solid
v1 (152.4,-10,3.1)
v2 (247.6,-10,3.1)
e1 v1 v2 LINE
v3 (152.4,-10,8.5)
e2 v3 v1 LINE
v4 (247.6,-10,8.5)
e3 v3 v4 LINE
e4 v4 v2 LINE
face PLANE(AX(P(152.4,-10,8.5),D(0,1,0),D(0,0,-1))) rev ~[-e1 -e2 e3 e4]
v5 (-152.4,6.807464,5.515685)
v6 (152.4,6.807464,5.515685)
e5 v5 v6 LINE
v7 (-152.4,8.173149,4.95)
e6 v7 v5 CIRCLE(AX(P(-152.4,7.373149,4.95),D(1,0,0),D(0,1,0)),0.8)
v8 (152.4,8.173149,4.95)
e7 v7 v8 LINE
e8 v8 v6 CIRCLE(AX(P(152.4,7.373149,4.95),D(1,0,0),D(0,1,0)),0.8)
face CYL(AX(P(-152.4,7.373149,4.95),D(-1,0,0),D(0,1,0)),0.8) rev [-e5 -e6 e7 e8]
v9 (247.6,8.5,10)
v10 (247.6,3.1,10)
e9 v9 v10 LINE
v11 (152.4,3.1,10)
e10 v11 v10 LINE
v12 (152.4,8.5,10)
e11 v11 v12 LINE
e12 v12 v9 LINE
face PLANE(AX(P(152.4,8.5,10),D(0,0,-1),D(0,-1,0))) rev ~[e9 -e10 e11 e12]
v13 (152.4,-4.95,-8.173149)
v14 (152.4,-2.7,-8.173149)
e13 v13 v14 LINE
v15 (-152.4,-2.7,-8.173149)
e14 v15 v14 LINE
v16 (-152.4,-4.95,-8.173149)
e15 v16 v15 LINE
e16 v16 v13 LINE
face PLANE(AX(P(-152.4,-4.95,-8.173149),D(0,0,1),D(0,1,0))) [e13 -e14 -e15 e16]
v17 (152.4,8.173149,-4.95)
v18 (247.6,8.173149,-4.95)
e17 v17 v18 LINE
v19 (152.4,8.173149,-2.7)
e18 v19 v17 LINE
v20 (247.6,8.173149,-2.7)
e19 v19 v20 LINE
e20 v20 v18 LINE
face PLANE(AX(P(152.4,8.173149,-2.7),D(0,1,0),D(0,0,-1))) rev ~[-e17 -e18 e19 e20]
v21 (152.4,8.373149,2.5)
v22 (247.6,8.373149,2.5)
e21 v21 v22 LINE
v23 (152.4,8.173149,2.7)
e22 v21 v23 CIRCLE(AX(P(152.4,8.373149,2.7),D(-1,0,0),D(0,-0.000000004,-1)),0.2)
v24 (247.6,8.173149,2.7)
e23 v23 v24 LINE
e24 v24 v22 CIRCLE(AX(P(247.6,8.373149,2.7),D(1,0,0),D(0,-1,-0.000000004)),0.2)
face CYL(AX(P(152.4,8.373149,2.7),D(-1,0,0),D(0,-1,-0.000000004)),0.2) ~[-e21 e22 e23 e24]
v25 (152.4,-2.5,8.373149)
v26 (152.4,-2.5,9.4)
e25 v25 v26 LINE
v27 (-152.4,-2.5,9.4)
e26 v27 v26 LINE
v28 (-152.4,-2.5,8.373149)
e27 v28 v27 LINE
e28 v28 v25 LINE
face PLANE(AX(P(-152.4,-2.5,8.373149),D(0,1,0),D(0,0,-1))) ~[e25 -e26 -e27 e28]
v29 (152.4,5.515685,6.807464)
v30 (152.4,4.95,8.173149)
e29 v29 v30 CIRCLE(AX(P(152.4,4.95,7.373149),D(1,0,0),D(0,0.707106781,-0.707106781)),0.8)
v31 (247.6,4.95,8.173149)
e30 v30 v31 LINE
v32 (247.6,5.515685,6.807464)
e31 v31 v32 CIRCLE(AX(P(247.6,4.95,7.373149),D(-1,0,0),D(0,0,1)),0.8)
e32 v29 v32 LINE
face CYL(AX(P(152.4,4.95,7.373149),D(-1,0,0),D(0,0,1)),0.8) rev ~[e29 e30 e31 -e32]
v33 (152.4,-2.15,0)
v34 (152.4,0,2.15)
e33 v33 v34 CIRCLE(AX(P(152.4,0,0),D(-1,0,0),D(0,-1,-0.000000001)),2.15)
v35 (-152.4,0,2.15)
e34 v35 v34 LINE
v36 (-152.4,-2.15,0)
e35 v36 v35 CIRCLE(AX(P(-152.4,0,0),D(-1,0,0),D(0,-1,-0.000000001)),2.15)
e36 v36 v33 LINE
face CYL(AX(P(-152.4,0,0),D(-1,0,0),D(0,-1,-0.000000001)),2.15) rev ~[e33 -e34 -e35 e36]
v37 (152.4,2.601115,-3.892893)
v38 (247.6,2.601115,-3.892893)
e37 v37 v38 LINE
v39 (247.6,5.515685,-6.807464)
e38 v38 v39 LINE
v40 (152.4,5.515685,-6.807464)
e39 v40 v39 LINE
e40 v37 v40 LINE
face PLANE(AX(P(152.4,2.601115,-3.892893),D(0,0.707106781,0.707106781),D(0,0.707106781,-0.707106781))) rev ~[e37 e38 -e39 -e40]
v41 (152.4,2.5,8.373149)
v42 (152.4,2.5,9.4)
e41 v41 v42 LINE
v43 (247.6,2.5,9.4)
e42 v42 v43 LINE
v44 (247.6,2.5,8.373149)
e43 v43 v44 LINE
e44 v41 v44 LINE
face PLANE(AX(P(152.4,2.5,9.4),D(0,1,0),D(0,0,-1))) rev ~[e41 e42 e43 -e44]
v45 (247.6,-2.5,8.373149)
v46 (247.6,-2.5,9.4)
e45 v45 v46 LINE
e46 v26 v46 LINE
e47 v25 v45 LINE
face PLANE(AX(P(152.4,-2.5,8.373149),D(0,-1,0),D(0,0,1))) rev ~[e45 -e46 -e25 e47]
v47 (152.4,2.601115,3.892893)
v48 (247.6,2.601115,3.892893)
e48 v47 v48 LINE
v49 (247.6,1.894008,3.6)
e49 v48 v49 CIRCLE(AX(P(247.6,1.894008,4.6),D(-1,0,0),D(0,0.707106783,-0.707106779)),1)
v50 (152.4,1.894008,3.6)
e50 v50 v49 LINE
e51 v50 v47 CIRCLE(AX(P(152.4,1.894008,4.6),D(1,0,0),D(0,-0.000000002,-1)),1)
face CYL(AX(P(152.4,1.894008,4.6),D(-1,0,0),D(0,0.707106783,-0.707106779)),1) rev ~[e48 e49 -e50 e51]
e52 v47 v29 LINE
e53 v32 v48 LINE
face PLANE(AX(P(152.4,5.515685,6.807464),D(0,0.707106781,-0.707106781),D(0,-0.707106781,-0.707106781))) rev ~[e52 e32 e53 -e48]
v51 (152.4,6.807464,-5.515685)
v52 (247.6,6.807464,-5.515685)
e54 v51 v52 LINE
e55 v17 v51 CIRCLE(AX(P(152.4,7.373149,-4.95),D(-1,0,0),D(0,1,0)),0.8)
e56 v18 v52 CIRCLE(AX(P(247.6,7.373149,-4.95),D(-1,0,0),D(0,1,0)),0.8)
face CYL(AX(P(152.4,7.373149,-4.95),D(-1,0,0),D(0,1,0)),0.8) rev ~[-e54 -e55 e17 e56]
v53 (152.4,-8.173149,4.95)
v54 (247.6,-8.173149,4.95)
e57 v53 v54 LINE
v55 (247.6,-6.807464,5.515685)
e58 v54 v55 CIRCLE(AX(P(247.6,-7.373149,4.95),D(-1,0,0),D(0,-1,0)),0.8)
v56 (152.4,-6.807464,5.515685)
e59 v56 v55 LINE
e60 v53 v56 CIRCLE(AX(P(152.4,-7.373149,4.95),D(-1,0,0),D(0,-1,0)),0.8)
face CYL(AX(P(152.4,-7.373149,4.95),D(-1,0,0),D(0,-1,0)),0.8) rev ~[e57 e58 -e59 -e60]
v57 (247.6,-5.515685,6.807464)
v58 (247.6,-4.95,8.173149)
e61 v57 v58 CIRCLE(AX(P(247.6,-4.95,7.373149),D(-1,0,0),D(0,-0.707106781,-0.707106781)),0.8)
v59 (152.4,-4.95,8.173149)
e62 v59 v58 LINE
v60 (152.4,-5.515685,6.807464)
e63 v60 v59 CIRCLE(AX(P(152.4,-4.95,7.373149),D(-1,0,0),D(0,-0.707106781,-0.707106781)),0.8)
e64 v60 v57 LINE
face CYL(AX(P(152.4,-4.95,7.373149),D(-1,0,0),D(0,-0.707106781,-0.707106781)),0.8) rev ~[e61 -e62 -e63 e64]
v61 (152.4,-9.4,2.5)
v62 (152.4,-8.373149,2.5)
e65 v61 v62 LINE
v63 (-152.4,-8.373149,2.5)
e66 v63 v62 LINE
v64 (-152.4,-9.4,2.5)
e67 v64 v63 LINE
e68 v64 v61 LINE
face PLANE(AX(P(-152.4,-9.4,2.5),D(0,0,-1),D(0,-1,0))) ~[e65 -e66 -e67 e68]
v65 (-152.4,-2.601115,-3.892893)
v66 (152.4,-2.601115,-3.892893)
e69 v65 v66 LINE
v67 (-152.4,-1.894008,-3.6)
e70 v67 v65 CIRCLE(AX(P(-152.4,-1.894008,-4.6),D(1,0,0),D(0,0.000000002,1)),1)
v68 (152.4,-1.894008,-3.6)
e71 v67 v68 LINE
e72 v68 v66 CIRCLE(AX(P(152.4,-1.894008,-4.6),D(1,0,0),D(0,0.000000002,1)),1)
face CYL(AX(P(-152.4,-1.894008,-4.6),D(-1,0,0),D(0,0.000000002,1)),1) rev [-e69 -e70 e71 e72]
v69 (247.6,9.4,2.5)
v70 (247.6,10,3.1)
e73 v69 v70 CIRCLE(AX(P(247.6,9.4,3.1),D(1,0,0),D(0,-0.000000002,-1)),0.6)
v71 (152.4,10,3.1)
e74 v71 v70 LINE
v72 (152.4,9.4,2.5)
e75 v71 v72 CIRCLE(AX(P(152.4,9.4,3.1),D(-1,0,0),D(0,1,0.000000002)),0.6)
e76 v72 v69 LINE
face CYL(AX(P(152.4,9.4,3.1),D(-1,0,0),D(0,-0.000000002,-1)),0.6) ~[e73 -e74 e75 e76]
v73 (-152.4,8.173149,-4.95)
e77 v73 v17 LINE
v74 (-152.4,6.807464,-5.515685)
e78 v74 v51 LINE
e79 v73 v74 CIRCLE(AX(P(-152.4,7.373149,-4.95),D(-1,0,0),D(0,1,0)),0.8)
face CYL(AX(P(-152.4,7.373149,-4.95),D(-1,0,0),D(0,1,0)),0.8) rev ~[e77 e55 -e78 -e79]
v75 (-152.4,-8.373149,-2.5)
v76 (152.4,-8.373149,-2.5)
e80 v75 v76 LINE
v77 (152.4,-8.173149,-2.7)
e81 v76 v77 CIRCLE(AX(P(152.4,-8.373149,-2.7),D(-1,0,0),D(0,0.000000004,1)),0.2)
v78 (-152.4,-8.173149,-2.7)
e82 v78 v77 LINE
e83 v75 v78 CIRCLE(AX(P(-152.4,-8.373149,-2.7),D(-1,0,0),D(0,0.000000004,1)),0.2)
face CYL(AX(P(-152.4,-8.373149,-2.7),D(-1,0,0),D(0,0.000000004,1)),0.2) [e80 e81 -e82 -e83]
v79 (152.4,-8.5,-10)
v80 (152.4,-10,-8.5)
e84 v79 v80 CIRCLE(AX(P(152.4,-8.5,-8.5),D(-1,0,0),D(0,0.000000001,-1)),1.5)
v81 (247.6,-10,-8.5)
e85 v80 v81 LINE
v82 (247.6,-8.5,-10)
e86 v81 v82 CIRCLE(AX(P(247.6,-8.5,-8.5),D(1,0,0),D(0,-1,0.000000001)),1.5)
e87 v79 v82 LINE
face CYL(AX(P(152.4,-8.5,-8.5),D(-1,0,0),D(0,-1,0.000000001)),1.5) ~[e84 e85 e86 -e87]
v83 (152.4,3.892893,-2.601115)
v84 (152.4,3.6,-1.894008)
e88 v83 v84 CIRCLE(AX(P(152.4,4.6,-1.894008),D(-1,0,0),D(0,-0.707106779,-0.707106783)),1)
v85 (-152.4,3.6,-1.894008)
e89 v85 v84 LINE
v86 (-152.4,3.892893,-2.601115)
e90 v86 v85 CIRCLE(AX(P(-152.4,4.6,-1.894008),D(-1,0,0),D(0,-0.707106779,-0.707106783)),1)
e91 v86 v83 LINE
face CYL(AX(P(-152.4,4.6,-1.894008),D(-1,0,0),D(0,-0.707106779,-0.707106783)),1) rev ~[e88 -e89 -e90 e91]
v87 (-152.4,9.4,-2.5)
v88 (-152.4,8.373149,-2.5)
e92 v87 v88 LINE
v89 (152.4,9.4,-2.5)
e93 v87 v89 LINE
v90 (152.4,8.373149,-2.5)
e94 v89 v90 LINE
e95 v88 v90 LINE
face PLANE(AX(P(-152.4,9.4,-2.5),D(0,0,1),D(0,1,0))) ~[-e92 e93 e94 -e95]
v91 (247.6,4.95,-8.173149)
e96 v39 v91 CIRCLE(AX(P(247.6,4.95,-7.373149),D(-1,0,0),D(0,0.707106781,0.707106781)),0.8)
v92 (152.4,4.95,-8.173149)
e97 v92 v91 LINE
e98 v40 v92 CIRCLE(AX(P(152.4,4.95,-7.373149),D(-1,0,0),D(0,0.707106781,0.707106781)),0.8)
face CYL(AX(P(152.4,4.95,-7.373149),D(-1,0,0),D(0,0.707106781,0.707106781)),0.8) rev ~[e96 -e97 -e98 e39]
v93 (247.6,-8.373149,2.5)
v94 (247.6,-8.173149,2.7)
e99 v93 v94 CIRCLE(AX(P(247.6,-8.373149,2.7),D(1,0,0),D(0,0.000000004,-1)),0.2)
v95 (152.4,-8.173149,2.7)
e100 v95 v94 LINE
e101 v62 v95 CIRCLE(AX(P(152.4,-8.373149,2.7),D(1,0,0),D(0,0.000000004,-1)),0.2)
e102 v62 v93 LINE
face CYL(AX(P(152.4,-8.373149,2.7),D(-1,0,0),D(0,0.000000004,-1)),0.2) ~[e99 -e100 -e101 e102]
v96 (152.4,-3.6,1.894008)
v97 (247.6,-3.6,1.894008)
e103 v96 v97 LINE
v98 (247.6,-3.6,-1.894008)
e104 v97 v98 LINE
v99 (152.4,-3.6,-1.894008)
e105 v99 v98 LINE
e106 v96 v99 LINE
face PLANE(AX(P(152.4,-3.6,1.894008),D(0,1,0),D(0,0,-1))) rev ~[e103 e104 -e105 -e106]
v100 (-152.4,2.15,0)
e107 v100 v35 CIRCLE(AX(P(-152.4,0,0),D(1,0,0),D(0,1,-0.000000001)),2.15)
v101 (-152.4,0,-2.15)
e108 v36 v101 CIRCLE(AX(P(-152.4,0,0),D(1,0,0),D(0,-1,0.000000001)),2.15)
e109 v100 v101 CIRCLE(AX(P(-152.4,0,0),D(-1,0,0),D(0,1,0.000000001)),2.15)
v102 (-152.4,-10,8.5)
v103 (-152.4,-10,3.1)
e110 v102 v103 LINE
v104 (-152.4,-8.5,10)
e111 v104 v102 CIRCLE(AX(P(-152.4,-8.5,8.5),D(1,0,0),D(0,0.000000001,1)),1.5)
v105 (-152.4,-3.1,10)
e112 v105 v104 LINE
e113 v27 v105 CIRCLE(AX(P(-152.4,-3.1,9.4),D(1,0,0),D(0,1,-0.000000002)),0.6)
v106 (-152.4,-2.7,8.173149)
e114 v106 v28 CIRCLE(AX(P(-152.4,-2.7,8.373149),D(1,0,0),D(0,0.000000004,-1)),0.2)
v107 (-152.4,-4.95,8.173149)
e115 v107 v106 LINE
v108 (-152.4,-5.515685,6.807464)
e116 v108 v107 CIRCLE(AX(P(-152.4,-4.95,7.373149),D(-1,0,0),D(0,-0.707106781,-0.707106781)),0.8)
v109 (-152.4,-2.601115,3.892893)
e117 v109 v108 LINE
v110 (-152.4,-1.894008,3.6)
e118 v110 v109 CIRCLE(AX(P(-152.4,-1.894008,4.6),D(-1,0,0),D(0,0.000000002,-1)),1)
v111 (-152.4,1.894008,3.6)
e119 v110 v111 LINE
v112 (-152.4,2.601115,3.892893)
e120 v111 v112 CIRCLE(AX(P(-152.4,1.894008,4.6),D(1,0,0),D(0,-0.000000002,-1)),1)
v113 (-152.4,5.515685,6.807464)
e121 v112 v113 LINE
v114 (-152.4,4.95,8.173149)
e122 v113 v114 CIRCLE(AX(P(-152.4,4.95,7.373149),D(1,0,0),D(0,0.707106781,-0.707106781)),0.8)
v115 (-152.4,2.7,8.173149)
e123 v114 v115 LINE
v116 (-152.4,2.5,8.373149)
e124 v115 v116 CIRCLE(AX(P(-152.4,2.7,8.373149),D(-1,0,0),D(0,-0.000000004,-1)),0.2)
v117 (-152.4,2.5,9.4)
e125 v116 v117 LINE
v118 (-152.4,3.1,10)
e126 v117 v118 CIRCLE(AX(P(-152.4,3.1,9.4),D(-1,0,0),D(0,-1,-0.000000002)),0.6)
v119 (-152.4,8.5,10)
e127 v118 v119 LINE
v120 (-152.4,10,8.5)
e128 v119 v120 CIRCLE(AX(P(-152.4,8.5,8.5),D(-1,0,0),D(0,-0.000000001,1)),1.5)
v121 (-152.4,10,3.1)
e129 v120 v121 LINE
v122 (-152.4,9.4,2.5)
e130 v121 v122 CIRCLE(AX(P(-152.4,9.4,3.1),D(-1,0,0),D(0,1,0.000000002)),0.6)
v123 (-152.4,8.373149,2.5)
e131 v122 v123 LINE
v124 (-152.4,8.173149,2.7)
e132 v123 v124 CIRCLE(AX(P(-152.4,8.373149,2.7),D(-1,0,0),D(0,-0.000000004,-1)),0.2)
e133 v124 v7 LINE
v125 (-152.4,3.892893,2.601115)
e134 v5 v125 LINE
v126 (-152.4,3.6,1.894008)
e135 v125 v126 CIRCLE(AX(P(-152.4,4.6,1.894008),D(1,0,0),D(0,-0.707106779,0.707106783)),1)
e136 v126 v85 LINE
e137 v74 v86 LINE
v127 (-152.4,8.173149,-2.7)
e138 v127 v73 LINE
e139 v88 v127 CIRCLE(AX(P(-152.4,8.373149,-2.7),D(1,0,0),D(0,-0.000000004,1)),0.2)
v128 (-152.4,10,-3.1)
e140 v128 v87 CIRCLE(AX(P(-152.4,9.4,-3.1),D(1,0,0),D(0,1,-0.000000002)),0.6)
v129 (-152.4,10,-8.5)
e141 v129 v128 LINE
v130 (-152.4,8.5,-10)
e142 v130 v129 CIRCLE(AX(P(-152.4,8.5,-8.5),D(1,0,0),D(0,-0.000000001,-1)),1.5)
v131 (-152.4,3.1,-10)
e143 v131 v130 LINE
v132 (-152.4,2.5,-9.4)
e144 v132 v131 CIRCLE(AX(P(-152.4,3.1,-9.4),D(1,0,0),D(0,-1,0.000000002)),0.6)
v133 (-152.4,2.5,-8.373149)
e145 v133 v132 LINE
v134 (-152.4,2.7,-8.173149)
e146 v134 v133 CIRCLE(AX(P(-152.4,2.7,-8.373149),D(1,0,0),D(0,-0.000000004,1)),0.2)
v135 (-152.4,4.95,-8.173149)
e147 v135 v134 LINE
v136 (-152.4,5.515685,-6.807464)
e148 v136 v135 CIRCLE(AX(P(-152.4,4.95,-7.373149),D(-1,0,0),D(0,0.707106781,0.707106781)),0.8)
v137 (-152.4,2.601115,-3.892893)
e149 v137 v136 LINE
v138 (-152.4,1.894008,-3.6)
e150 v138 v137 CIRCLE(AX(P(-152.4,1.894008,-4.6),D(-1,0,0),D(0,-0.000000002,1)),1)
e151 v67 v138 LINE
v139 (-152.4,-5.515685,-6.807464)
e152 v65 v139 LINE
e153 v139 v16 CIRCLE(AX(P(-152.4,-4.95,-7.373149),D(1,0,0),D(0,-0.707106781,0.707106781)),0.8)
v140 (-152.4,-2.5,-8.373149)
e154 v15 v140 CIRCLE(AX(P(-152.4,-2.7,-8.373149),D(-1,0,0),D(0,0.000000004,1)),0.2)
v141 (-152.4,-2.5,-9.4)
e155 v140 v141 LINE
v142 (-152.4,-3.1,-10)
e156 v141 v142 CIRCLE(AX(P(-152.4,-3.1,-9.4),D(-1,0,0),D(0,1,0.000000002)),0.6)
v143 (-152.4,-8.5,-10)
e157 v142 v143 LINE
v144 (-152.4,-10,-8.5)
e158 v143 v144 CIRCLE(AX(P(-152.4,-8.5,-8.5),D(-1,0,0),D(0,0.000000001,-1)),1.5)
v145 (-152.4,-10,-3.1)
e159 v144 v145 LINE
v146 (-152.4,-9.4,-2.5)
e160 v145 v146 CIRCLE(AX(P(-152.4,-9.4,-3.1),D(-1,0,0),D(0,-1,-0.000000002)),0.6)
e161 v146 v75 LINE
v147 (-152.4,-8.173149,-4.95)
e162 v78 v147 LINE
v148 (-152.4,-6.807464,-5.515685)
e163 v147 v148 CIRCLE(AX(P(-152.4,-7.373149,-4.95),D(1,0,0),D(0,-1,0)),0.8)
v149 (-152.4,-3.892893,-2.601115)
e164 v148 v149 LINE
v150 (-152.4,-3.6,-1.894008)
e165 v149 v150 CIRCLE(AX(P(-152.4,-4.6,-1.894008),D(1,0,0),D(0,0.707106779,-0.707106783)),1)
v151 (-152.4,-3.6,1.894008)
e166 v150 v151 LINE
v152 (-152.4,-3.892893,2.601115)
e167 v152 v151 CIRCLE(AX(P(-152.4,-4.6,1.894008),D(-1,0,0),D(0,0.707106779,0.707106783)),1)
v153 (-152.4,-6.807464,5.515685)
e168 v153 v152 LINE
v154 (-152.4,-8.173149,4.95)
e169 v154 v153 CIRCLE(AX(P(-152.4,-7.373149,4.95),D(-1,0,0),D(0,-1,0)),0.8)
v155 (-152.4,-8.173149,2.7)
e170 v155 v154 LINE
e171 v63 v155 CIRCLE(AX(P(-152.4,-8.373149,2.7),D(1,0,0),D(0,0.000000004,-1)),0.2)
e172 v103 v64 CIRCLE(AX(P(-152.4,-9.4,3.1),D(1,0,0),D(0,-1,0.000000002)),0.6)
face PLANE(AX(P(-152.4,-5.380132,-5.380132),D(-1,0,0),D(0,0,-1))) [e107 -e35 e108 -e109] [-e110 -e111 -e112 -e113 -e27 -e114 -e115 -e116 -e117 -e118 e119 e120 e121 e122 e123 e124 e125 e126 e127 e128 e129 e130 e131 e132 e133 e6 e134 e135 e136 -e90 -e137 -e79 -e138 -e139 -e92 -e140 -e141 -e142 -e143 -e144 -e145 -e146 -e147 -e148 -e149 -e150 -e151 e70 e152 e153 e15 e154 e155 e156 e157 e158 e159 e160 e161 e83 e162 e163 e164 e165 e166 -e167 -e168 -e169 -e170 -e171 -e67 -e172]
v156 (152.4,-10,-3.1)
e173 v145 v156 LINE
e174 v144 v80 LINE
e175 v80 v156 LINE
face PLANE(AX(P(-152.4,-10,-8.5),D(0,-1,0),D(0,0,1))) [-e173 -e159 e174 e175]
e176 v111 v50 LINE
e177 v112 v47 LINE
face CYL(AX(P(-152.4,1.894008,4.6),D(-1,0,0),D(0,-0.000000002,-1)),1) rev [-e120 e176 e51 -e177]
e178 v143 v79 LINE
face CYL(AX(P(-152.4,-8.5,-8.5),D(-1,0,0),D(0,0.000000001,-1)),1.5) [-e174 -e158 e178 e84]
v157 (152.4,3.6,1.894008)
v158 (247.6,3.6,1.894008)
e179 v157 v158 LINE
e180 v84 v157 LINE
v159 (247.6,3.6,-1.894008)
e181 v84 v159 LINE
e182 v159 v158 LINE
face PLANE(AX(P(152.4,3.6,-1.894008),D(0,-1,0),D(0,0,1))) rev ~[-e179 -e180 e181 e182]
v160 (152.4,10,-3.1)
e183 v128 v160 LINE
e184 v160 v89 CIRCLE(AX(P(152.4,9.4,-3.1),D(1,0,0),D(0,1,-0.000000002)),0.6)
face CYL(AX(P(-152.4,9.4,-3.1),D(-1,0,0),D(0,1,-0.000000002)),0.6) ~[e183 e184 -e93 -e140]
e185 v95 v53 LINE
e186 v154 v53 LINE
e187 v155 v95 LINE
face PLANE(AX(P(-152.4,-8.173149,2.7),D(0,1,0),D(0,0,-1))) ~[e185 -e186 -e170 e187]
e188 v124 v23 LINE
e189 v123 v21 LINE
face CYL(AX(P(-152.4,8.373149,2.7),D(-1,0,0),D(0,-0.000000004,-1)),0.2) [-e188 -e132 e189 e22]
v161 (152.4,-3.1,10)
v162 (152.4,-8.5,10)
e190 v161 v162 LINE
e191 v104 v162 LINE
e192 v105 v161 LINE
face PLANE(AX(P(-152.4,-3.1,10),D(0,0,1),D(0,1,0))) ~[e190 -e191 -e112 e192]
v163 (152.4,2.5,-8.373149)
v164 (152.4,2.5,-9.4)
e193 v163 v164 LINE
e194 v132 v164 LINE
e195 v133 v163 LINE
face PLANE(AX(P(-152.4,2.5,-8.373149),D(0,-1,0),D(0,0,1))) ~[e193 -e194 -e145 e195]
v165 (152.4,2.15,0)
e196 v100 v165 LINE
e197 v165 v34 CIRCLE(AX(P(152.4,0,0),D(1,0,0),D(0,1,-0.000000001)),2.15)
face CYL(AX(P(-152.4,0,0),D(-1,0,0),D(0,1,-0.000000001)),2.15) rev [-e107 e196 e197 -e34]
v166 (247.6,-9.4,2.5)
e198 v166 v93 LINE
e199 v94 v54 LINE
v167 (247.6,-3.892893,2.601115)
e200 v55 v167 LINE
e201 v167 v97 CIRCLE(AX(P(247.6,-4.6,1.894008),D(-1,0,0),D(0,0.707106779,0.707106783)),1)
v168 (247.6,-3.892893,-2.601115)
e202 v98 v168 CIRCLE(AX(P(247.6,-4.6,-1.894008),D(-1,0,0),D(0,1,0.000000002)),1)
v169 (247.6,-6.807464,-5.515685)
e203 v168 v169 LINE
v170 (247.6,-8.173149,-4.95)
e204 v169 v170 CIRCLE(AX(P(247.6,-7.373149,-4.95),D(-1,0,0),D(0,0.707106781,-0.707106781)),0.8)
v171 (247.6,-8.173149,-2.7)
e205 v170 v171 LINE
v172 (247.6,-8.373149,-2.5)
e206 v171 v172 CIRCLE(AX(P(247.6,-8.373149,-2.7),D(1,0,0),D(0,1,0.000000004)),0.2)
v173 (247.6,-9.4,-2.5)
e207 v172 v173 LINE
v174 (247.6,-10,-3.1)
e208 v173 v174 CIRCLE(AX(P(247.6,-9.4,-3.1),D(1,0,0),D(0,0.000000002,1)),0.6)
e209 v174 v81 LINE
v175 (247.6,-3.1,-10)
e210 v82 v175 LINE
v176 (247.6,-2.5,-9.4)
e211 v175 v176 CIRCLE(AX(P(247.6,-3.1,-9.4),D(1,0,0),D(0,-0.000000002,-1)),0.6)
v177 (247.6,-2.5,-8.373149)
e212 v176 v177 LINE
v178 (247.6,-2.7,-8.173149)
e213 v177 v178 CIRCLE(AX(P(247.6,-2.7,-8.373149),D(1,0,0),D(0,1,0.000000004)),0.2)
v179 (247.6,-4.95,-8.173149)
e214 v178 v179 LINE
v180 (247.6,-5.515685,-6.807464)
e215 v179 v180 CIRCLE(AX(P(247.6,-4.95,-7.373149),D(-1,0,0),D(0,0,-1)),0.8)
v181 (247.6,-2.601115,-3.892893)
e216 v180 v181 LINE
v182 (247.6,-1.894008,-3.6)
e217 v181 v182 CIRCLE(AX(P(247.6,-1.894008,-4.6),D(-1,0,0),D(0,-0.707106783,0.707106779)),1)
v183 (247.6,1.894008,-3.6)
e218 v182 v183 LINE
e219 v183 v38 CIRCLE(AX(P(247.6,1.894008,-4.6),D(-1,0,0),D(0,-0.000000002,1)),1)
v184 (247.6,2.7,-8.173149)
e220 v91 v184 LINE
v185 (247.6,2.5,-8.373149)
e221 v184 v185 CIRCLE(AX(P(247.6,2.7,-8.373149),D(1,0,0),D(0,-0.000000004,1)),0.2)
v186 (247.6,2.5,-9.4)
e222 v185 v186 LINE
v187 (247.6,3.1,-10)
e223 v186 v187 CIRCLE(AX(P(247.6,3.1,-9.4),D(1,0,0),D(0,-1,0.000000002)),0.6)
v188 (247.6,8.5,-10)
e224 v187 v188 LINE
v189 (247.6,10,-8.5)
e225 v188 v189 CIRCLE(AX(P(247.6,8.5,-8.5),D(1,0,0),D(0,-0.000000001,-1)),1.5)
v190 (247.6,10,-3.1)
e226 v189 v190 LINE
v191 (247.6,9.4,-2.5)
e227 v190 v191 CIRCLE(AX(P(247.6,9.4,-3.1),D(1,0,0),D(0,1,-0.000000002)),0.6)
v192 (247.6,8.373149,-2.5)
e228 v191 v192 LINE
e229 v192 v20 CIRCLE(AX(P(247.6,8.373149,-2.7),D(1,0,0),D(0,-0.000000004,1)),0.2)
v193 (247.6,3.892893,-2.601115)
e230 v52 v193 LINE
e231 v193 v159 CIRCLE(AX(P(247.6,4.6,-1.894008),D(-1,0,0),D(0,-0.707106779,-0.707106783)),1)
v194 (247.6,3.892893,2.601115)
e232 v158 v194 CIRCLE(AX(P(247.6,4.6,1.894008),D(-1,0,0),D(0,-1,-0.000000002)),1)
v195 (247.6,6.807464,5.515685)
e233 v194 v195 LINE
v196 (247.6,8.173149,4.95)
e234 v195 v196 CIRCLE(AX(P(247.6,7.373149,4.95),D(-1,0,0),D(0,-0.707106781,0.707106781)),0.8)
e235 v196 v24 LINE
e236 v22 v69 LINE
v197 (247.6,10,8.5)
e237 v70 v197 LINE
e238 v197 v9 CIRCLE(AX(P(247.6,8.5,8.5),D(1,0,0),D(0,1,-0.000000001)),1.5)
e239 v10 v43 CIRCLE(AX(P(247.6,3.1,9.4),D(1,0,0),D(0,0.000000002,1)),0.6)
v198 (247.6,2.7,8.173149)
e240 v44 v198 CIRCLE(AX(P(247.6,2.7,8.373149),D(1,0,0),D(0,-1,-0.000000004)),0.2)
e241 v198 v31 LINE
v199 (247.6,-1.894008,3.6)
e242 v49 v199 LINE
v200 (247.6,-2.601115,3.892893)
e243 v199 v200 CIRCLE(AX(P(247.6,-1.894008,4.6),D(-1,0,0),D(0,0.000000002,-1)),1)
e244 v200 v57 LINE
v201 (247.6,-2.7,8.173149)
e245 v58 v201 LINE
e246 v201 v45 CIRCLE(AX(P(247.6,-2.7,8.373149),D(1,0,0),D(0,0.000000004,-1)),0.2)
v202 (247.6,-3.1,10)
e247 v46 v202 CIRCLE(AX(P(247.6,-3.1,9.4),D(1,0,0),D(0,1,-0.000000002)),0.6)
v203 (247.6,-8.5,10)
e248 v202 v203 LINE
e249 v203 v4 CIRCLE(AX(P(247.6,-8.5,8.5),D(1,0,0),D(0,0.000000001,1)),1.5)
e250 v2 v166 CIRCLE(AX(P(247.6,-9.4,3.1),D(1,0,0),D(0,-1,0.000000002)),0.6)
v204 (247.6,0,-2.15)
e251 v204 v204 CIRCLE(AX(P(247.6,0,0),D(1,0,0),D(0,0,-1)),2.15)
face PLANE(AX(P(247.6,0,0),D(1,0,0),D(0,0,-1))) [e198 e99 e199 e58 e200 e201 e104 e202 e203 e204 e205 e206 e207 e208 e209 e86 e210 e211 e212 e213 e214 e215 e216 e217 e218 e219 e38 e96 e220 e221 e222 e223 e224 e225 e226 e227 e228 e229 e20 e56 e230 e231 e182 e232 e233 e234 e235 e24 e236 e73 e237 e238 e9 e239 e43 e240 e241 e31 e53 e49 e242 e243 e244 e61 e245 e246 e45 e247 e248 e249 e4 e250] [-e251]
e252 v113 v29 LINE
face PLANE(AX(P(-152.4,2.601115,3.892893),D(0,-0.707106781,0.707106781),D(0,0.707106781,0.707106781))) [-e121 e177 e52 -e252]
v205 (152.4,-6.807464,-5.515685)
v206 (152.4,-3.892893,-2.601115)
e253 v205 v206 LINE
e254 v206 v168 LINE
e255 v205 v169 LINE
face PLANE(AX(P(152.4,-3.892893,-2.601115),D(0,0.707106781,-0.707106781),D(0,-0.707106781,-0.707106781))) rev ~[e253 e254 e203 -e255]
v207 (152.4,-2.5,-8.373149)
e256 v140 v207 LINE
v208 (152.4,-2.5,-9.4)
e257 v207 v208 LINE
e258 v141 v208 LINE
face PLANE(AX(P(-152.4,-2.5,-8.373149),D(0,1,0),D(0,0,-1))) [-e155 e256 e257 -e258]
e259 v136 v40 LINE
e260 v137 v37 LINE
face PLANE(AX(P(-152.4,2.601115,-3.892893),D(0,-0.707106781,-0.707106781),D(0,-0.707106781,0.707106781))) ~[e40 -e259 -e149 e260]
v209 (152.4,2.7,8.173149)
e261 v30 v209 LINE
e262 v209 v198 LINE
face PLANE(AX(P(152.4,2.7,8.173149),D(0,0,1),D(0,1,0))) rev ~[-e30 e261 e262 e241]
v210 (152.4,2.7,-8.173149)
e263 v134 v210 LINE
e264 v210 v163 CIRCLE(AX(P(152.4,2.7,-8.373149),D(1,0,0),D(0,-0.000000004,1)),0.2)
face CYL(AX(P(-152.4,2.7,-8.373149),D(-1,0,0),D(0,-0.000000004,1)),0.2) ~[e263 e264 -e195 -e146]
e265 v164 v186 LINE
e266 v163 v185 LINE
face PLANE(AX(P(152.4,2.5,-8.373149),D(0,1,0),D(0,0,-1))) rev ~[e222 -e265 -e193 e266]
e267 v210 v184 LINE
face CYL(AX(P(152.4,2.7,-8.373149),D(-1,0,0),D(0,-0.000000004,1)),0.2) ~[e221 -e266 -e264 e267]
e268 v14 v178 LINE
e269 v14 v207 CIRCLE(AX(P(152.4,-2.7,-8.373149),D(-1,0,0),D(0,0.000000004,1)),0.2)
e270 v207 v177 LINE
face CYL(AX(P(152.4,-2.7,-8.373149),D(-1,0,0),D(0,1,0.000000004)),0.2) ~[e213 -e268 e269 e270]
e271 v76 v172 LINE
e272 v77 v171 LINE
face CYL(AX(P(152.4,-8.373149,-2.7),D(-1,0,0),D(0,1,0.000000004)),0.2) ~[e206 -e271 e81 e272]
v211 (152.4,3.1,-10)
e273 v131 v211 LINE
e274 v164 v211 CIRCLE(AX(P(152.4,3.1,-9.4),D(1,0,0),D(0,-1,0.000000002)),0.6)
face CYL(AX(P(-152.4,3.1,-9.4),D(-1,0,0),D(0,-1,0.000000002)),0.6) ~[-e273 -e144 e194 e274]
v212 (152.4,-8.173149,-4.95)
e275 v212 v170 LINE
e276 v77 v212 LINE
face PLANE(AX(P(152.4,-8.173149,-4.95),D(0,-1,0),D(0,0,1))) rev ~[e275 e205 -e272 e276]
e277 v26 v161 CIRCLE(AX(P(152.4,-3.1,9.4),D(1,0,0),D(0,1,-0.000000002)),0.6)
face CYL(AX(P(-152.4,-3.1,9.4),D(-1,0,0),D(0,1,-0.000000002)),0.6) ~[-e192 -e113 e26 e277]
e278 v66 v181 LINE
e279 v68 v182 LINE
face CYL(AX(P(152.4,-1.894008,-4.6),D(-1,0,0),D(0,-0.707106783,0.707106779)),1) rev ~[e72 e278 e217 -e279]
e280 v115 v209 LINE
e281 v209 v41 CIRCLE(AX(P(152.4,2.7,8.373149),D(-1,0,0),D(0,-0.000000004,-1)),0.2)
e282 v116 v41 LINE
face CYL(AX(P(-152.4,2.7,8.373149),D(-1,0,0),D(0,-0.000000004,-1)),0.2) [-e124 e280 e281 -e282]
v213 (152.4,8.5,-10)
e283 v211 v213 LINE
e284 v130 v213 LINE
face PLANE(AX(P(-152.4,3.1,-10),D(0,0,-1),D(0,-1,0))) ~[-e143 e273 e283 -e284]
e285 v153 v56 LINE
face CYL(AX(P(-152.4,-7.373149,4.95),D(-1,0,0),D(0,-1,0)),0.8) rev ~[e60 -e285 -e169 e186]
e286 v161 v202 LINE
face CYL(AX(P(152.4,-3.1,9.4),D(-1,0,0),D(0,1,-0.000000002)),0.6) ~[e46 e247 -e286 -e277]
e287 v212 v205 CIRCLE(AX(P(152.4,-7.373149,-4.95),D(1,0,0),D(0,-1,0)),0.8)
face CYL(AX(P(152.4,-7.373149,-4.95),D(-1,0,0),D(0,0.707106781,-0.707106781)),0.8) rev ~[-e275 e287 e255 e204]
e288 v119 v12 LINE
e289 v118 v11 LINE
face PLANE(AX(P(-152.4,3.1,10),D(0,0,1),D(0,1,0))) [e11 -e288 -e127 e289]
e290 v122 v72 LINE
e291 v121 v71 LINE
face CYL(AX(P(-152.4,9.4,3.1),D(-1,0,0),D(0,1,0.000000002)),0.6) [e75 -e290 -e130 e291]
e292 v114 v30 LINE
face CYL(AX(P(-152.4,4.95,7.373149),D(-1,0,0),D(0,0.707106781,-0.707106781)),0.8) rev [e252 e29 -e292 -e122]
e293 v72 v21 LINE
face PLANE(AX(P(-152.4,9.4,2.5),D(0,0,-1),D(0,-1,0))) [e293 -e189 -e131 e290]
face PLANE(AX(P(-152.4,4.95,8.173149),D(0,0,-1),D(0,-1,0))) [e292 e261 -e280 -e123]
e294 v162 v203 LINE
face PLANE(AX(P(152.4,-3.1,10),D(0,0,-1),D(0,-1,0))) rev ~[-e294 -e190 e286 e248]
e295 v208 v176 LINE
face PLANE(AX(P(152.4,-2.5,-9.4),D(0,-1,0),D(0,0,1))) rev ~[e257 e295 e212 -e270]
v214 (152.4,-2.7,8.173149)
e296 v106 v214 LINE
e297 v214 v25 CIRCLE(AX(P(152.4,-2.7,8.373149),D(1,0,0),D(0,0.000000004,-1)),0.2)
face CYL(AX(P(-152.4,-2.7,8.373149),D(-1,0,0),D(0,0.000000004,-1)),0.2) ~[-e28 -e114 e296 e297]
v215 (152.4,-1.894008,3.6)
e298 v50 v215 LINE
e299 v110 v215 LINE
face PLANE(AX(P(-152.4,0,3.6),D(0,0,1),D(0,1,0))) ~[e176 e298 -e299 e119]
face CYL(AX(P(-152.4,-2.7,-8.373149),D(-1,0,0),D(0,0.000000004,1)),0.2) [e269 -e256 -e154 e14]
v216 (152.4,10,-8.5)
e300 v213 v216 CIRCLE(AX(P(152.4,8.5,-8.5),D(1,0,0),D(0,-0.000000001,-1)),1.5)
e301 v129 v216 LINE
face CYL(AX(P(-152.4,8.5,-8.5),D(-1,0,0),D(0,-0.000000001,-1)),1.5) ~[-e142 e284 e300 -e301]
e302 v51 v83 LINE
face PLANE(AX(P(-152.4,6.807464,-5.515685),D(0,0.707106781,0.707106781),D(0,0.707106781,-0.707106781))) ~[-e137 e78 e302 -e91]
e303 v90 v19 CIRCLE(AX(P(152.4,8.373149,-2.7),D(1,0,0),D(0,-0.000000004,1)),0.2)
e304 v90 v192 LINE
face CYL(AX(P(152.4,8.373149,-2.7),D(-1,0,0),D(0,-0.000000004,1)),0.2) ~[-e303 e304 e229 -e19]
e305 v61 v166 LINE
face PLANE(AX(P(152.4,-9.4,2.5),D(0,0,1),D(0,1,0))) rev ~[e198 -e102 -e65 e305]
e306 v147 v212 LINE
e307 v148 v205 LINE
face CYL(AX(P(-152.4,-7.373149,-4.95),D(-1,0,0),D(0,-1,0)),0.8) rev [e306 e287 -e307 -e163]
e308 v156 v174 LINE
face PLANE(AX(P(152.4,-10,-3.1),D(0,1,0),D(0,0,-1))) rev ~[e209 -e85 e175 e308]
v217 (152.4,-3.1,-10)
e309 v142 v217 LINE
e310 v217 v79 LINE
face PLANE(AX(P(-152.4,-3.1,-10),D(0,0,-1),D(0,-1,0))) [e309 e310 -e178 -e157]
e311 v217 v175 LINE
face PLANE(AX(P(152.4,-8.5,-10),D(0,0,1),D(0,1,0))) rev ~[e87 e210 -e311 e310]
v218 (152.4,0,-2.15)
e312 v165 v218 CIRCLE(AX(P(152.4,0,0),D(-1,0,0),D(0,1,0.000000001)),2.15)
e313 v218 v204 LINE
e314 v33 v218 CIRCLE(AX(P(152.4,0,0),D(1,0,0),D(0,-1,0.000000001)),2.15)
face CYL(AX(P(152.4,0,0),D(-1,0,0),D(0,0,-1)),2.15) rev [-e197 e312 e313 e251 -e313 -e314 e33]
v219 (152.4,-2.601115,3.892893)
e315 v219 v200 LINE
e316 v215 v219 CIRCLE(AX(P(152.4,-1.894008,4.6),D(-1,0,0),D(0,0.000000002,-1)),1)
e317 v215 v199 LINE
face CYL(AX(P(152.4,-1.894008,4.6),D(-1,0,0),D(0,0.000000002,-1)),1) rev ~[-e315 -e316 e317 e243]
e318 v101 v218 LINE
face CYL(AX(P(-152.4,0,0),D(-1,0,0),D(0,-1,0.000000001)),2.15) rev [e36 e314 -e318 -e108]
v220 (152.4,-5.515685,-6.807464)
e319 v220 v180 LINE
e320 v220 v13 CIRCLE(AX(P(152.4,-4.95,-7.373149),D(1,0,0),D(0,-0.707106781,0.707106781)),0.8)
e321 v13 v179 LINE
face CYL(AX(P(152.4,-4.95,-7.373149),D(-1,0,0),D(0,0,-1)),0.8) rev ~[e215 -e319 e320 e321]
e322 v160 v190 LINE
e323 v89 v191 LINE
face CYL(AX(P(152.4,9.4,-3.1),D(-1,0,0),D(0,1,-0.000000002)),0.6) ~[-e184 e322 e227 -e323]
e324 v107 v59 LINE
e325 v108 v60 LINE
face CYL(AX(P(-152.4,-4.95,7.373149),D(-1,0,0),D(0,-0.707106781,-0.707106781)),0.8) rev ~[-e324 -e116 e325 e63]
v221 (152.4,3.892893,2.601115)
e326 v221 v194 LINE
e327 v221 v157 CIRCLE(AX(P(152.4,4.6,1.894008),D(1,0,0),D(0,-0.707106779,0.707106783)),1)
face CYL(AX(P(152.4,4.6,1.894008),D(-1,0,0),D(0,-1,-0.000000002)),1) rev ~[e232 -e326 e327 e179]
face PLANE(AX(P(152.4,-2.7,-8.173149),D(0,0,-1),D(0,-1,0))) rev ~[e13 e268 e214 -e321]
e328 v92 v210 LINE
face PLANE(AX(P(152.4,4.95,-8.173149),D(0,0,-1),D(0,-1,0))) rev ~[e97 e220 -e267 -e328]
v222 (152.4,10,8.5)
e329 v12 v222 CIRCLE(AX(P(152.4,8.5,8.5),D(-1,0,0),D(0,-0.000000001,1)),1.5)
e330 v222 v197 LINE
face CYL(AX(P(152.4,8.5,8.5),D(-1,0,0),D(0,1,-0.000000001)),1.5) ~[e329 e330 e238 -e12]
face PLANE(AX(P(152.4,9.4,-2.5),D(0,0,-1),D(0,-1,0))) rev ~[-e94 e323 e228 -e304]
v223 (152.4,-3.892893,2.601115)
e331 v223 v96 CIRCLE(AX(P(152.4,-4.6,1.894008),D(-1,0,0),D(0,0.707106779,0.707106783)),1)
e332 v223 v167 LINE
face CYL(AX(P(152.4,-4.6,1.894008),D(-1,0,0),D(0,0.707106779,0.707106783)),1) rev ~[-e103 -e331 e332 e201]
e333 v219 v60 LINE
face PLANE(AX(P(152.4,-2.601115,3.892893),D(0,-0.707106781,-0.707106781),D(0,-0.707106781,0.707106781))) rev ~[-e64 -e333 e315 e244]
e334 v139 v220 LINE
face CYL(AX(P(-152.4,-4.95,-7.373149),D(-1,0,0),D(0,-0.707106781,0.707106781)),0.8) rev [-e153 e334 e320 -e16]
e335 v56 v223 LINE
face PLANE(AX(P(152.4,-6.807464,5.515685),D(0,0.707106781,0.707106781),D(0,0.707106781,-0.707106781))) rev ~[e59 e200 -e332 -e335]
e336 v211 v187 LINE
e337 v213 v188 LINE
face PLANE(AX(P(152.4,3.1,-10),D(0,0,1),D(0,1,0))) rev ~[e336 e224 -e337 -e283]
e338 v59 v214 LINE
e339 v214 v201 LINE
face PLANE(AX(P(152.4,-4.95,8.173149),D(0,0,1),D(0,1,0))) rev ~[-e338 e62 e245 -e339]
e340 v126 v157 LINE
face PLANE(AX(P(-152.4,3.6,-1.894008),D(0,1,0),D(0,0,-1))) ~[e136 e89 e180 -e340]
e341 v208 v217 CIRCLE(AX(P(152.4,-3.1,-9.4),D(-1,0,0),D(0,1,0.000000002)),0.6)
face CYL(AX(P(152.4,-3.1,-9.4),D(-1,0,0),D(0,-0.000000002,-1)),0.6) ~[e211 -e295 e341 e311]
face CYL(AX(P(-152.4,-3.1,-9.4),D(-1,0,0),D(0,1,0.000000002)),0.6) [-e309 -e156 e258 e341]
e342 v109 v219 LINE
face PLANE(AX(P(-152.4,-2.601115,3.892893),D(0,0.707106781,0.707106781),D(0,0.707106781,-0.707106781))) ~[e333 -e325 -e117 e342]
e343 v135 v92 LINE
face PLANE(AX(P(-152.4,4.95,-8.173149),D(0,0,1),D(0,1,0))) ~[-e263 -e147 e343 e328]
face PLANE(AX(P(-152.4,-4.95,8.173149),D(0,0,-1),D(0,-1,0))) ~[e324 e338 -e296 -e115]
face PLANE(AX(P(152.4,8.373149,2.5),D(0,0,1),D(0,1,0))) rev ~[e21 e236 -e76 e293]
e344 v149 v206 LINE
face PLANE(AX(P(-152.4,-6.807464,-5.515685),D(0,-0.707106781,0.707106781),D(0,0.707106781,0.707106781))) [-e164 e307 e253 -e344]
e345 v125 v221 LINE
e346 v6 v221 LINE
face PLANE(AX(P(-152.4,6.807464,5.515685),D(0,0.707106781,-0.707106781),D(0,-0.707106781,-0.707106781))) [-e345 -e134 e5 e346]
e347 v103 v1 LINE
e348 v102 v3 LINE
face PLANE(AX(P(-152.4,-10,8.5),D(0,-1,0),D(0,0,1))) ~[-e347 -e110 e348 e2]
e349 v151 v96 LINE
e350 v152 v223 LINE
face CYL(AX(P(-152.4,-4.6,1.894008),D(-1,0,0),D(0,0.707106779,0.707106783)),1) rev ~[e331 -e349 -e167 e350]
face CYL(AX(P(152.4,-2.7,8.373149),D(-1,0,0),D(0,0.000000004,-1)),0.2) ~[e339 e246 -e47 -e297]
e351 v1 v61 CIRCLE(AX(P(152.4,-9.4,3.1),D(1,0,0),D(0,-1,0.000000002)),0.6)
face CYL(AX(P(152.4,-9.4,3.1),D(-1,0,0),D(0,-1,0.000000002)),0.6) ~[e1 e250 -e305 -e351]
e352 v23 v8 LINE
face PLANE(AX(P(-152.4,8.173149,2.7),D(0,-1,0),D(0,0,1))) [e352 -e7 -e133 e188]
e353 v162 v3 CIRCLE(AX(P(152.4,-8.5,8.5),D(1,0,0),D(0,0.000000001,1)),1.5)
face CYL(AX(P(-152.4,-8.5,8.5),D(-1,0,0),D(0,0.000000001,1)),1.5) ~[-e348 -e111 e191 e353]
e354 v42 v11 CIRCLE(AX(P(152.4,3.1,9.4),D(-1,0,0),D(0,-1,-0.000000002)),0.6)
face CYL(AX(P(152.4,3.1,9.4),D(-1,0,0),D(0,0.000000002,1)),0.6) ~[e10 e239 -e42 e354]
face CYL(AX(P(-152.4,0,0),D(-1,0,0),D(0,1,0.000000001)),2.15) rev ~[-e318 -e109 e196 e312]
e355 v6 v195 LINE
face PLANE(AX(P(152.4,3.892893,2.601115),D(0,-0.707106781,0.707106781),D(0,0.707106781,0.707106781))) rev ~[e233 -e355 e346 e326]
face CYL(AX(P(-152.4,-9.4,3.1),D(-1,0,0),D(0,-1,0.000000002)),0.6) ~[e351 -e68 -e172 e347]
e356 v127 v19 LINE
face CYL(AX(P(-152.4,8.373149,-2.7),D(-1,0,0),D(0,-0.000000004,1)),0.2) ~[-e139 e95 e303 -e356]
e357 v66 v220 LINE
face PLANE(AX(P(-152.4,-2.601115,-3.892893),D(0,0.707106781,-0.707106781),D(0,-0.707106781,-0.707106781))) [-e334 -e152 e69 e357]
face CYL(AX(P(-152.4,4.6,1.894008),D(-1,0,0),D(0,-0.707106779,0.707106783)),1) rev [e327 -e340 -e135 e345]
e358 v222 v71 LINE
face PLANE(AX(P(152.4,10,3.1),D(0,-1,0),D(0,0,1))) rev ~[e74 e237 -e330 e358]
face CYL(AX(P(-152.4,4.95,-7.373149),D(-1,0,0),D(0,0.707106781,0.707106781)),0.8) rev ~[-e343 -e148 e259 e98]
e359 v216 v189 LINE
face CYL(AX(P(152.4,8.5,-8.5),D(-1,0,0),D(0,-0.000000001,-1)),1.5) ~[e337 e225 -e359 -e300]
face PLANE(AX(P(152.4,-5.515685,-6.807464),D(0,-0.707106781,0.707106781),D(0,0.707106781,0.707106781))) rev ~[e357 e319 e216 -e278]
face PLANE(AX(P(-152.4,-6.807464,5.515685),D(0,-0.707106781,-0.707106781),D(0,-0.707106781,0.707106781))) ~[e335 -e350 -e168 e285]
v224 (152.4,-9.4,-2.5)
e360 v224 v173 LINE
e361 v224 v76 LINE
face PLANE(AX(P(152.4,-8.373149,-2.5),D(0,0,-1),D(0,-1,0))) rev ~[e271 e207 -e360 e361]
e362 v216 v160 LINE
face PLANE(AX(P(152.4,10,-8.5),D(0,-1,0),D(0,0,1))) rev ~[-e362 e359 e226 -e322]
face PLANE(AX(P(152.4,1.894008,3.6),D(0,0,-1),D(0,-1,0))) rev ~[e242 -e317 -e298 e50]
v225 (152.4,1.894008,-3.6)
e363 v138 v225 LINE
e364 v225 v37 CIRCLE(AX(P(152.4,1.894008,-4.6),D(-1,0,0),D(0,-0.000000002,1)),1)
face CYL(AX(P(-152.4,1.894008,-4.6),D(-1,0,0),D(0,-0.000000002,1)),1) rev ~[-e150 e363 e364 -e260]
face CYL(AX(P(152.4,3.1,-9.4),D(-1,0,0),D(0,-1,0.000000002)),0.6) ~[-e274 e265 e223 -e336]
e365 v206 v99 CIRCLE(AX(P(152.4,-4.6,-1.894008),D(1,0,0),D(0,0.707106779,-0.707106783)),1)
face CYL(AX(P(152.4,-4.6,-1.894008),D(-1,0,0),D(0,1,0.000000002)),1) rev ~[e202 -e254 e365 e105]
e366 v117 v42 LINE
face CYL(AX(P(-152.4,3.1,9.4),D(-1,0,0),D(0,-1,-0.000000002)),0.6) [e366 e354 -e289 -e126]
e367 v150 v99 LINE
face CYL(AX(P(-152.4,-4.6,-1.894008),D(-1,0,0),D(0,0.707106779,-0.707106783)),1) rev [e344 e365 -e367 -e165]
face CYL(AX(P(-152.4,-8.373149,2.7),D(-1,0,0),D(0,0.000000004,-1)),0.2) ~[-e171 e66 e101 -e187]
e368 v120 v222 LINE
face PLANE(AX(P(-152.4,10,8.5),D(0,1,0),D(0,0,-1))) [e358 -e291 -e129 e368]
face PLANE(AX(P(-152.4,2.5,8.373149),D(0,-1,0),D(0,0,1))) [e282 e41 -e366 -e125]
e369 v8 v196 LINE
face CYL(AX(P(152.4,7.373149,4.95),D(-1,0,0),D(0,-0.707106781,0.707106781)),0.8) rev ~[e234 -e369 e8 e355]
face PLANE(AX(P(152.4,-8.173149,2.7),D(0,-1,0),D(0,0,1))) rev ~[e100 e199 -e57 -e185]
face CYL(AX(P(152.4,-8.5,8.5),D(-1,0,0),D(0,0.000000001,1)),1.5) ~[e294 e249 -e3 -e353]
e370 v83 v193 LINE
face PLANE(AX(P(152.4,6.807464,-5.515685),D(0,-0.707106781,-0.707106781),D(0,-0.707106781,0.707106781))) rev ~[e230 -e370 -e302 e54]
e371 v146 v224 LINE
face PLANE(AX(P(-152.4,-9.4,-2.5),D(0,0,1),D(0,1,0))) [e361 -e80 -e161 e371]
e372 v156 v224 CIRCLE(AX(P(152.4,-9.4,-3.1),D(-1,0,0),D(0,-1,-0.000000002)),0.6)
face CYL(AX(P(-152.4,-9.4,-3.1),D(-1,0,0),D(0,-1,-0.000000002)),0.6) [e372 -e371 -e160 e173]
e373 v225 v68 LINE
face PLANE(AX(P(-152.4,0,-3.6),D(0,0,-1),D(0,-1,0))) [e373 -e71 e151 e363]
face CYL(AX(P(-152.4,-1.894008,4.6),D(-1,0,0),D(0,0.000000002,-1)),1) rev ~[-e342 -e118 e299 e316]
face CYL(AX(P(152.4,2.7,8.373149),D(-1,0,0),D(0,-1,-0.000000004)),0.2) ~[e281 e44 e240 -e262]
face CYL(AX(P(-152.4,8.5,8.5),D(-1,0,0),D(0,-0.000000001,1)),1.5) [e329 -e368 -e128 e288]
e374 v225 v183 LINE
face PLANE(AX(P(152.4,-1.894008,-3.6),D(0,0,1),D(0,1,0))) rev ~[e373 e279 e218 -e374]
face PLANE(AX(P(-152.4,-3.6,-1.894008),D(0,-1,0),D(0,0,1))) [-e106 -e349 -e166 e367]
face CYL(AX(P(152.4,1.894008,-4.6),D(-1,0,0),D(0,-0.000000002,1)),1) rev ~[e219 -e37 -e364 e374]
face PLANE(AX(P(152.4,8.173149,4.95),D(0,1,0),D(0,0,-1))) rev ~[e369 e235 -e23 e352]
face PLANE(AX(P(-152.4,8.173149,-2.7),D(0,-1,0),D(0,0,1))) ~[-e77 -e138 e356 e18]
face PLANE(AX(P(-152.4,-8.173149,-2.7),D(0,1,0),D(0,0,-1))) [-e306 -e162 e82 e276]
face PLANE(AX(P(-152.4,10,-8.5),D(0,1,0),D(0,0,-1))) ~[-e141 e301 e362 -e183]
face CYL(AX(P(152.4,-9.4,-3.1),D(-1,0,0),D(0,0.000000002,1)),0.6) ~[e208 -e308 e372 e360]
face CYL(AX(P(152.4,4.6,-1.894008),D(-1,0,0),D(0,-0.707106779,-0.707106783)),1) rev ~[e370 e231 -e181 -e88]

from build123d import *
from build123d.topology import SkipClean

# Parameters (mm, degrees)
BOSS_EXTRUDE1_DEPTH      = 152.4
BOSS_EXTRUDE1_DEPTH_BACK = 152.4
SKETCH4_R                = 2.15
BOSS_EXTRUDE2_DEPTH      = 95.2


with BuildPart() as part:
    # Sketch3 → Boss-Extrude1 (new, two sides: drawn at the far end of the back side and taken through both)
    with BuildSketch(Plane(origin=(0, 0, 0), x_dir=(0, 0, -1), z_dir=(1, 0, 0)).offset(-BOSS_EXTRUDE1_DEPTH_BACK)):
        with BuildLine():
            Line((-5.515685425, 6.807463915), (-2.601114729, 3.892893219))
            ThreePointArc((-2.601114729, 3.892893219), (-2.27669138, 3.676120467), (-1.894007948, 3.6))
            Line((-1.894007948, 3.6), (0, 3.6))
            Line((0, 3.6), (0, 2.15))
            ThreePointArc((0, 2.15), (-1.52027958, 1.52027958), (-2.15, 0))
            Line((-2.15, 0), (-3.6, 0))
            Line((-3.6, 0), (-3.6, 1.894007948))
            ThreePointArc((-3.6, 1.894007948), (-3.676120467, 2.27669138), (-3.892893219, 2.601114729))
            Line((-3.892893219, 2.601114729), (-6.807463915, 5.515685425))
            ThreePointArc((-6.807463915, 5.515685425), (-7.679296086, 5.689103626), (-8.17314934, 4.95))
            Line((-8.17314934, 4.95), (-8.17314934, 2.7))
            ThreePointArc((-8.17314934, 2.7), (-8.231727984, 2.558578644), (-8.37314934, 2.5))
            Line((-8.37314934, 2.5), (-9.4, 2.5))
            ThreePointArc((-9.4, 2.5), (-9.824264069, 2.675735931), (-10, 3.1))
            Line((-10, 3.1), (-10, 8.5))
            ThreePointArc((-10, 8.5), (-9.560660172, 9.560660172), (-8.5, 10))
            Line((-8.5, 10), (-3.1, 10))
            ThreePointArc((-3.1, 10), (-2.675735931, 9.824264069), (-2.5, 9.4))
            Line((-2.5, 9.4), (-2.5, 8.37314934))
            ThreePointArc((-2.5, 8.37314934), (-2.558578644, 8.231727984), (-2.7, 8.17314934))
            Line((-2.7, 8.17314934), (-4.95, 8.17314934))
            ThreePointArc((-4.95, 8.17314934), (-5.689103626, 7.679296086), (-5.515685425, 6.807463915))
        make_face()
    extrude(amount=BOSS_EXTRUDE1_DEPTH + BOSS_EXTRUDE1_DEPTH_BACK)

    # Mirror1: part across plane


with BuildPart() as part_1:
    add(part.part)
    add(part.part.mirror(Plane.ZX))

    # Mirror2: part across plane


with BuildPart() as part_2:
    add(part_1.part)
    add(part_1.part.mirror(Plane.XY))

    # Sketch4 → Boss-Extrude2 (add)
    with SkipClean():  # the faces are left unmerged after this step: merging them gives an invalid solid
        with BuildSketch(Plane(origin=(152.4, 0, 0), x_dir=(0, 0, -1), z_dir=(1, 0, 0))):
            with BuildLine():
                Line((1.894007948, 3.6), (-1.894007948, 3.6))
                ThreePointArc((-1.894007948, 3.6), (-2.27669138, 3.676120467), (-2.601114729, 3.892893219))
                Line((-2.601114729, 3.892893219), (-5.515685425, 6.807463915))
                ThreePointArc((-5.515685425, 6.807463915), (-5.689103626, 7.679296086), (-4.95, 8.17314934))
                Line((-4.95, 8.17314934), (-2.7, 8.17314934))
                ThreePointArc((-2.7, 8.17314934), (-2.558578644, 8.231727984), (-2.5, 8.37314934))
                Line((-2.5, 8.37314934), (-2.5, 9.4))
                ThreePointArc((-2.5, 9.4), (-2.675735931, 9.824264069), (-3.1, 10))
                Line((-3.1, 10), (-8.5, 10))
                ThreePointArc((-8.5, 10), (-9.560660172, 9.560660172), (-10, 8.5))
                Line((-10, 8.5), (-10, 3.1))
                ThreePointArc((-10, 3.1), (-9.824264069, 2.675735931), (-9.4, 2.5))
                Line((-9.4, 2.5), (-8.37314934, 2.5))
                ThreePointArc((-8.37314934, 2.5), (-8.231727984, 2.558578644), (-8.17314934, 2.7))
                Line((-8.17314934, 2.7), (-8.17314934, 4.95))
                ThreePointArc((-8.17314934, 4.95), (-7.679296086, 5.689103626), (-6.807463915, 5.515685425))
                Line((-6.807463915, 5.515685425), (-3.892893219, 2.601114729))
                ThreePointArc((-3.892893219, 2.601114729), (-3.676120467, 2.27669138), (-3.6, 1.894007948))
                Line((-3.6, 1.894007948), (-3.6, -1.894007948))
                ThreePointArc((-3.6, -1.894007948), (-3.676120467, -2.27669138), (-3.892893219, -2.601114729))
                Line((-3.892893219, -2.601114729), (-6.807463915, -5.515685425))
                ThreePointArc((-6.807463915, -5.515685425), (-7.679296086, -5.689103626), (-8.17314934, -4.95))
                Line((-8.17314934, -4.95), (-8.17314934, -2.7))
                ThreePointArc((-8.17314934, -2.7), (-8.231727984, -2.558578644), (-8.37314934, -2.5))
                Line((-8.37314934, -2.5), (-9.4, -2.5))
                ThreePointArc((-9.4, -2.5), (-9.824264069, -2.675735931), (-10, -3.1))
                Line((-10, -3.1), (-10, -8.5))
                ThreePointArc((-10, -8.5), (-9.560660172, -9.560660172), (-8.5, -10))
                Line((-8.5, -10), (-3.1, -10))
                ThreePointArc((-3.1, -10), (-2.675735931, -9.824264069), (-2.5, -9.4))
                Line((-2.5, -9.4), (-2.5, -8.37314934))
                ThreePointArc((-2.5, -8.37314934), (-2.558578644, -8.231727984), (-2.7, -8.17314934))
                Line((-2.7, -8.17314934), (-4.95, -8.17314934))
                ThreePointArc((-4.95, -8.17314934), (-5.689103626, -7.679296086), (-5.515685425, -6.807463915))
                Line((-5.515685425, -6.807463915), (-2.601114729, -3.892893219))
                ThreePointArc((-2.601114729, -3.892893219), (-2.27669138, -3.676120467), (-1.894007948, -3.6))
                Line((-1.894007948, -3.6), (1.894007948, -3.6))
                ThreePointArc((1.894007948, -3.6), (2.27669138, -3.676120467), (2.601114729, -3.892893219))
                Line((2.601114729, -3.892893219), (5.515685425, -6.807463915))
                ThreePointArc((5.515685425, -6.807463915), (5.689103626, -7.679296086), (4.95, -8.17314934))
                Line((4.95, -8.17314934), (2.7, -8.17314934))
                ThreePointArc((2.7, -8.17314934), (2.558578644, -8.231727984), (2.5, -8.37314934))
                Line((2.5, -8.37314934), (2.5, -9.4))
                ThreePointArc((2.5, -9.4), (2.675735931, -9.824264069), (3.1, -10))
                Line((3.1, -10), (8.5, -10))
                ThreePointArc((8.5, -10), (9.560660172, -9.560660172), (10, -8.5))
                Line((10, -8.5), (10, -3.1))
                ThreePointArc((10, -3.1), (9.824264069, -2.675735931), (9.4, -2.5))
                Line((9.4, -2.5), (8.37314934, -2.5))
                ThreePointArc((8.37314934, -2.5), (8.231727984, -2.558578644), (8.17314934, -2.7))
                Line((8.17314934, -2.7), (8.17314934, -4.95))
                ThreePointArc((8.17314934, -4.95), (7.679296086, -5.689103626), (6.807463915, -5.515685425))
                Line((6.807463915, -5.515685425), (3.892893219, -2.601114729))
                ThreePointArc((3.892893219, -2.601114729), (3.676120467, -2.27669138), (3.6, -1.894007948))
                Line((3.6, -1.894007948), (3.6, 1.894007948))
                ThreePointArc((3.6, 1.894007948), (3.676120467, 2.27669138), (3.892893219, 2.601114729))
                Line((3.892893219, 2.601114729), (6.807463915, 5.515685425))
                ThreePointArc((6.807463915, 5.515685425), (7.679296086, 5.689103626), (8.17314934, 4.95))
                Line((8.17314934, 4.95), (8.17314934, 2.7))
                ThreePointArc((8.17314934, 2.7), (8.231727984, 2.558578644), (8.37314934, 2.5))
                Line((8.37314934, 2.5), (9.4, 2.5))
                ThreePointArc((9.4, 2.5), (9.824264069, 2.675735931), (10, 3.1))
                Line((10, 3.1), (10, 8.5))
                ThreePointArc((10, 8.5), (9.560660172, 9.560660172), (8.5, 10))
                Line((8.5, 10), (3.1, 10))
                ThreePointArc((3.1, 10), (2.675735931, 9.824264069), (2.5, 9.4))
                Line((2.5, 9.4), (2.5, 8.37314934))
                ThreePointArc((2.5, 8.37314934), (2.558578644, 8.231727984), (2.7, 8.17314934))
                Line((2.7, 8.17314934), (4.95, 8.17314934))
                ThreePointArc((4.95, 8.17314934), (5.689103626, 7.679296086), (5.515685425, 6.807463915))
                Line((5.515685425, 6.807463915), (2.601114729, 3.892893219))
                ThreePointArc((2.601114729, 3.892893219), (2.27669138, 3.676120467), (1.894007948, 3.6))
            make_face()
            Circle(SKETCH4_R, mode=Mode.SUBTRACT)
        extrude(amount=BOSS_EXTRUDE2_DEPTH)


solid = part_2.part
